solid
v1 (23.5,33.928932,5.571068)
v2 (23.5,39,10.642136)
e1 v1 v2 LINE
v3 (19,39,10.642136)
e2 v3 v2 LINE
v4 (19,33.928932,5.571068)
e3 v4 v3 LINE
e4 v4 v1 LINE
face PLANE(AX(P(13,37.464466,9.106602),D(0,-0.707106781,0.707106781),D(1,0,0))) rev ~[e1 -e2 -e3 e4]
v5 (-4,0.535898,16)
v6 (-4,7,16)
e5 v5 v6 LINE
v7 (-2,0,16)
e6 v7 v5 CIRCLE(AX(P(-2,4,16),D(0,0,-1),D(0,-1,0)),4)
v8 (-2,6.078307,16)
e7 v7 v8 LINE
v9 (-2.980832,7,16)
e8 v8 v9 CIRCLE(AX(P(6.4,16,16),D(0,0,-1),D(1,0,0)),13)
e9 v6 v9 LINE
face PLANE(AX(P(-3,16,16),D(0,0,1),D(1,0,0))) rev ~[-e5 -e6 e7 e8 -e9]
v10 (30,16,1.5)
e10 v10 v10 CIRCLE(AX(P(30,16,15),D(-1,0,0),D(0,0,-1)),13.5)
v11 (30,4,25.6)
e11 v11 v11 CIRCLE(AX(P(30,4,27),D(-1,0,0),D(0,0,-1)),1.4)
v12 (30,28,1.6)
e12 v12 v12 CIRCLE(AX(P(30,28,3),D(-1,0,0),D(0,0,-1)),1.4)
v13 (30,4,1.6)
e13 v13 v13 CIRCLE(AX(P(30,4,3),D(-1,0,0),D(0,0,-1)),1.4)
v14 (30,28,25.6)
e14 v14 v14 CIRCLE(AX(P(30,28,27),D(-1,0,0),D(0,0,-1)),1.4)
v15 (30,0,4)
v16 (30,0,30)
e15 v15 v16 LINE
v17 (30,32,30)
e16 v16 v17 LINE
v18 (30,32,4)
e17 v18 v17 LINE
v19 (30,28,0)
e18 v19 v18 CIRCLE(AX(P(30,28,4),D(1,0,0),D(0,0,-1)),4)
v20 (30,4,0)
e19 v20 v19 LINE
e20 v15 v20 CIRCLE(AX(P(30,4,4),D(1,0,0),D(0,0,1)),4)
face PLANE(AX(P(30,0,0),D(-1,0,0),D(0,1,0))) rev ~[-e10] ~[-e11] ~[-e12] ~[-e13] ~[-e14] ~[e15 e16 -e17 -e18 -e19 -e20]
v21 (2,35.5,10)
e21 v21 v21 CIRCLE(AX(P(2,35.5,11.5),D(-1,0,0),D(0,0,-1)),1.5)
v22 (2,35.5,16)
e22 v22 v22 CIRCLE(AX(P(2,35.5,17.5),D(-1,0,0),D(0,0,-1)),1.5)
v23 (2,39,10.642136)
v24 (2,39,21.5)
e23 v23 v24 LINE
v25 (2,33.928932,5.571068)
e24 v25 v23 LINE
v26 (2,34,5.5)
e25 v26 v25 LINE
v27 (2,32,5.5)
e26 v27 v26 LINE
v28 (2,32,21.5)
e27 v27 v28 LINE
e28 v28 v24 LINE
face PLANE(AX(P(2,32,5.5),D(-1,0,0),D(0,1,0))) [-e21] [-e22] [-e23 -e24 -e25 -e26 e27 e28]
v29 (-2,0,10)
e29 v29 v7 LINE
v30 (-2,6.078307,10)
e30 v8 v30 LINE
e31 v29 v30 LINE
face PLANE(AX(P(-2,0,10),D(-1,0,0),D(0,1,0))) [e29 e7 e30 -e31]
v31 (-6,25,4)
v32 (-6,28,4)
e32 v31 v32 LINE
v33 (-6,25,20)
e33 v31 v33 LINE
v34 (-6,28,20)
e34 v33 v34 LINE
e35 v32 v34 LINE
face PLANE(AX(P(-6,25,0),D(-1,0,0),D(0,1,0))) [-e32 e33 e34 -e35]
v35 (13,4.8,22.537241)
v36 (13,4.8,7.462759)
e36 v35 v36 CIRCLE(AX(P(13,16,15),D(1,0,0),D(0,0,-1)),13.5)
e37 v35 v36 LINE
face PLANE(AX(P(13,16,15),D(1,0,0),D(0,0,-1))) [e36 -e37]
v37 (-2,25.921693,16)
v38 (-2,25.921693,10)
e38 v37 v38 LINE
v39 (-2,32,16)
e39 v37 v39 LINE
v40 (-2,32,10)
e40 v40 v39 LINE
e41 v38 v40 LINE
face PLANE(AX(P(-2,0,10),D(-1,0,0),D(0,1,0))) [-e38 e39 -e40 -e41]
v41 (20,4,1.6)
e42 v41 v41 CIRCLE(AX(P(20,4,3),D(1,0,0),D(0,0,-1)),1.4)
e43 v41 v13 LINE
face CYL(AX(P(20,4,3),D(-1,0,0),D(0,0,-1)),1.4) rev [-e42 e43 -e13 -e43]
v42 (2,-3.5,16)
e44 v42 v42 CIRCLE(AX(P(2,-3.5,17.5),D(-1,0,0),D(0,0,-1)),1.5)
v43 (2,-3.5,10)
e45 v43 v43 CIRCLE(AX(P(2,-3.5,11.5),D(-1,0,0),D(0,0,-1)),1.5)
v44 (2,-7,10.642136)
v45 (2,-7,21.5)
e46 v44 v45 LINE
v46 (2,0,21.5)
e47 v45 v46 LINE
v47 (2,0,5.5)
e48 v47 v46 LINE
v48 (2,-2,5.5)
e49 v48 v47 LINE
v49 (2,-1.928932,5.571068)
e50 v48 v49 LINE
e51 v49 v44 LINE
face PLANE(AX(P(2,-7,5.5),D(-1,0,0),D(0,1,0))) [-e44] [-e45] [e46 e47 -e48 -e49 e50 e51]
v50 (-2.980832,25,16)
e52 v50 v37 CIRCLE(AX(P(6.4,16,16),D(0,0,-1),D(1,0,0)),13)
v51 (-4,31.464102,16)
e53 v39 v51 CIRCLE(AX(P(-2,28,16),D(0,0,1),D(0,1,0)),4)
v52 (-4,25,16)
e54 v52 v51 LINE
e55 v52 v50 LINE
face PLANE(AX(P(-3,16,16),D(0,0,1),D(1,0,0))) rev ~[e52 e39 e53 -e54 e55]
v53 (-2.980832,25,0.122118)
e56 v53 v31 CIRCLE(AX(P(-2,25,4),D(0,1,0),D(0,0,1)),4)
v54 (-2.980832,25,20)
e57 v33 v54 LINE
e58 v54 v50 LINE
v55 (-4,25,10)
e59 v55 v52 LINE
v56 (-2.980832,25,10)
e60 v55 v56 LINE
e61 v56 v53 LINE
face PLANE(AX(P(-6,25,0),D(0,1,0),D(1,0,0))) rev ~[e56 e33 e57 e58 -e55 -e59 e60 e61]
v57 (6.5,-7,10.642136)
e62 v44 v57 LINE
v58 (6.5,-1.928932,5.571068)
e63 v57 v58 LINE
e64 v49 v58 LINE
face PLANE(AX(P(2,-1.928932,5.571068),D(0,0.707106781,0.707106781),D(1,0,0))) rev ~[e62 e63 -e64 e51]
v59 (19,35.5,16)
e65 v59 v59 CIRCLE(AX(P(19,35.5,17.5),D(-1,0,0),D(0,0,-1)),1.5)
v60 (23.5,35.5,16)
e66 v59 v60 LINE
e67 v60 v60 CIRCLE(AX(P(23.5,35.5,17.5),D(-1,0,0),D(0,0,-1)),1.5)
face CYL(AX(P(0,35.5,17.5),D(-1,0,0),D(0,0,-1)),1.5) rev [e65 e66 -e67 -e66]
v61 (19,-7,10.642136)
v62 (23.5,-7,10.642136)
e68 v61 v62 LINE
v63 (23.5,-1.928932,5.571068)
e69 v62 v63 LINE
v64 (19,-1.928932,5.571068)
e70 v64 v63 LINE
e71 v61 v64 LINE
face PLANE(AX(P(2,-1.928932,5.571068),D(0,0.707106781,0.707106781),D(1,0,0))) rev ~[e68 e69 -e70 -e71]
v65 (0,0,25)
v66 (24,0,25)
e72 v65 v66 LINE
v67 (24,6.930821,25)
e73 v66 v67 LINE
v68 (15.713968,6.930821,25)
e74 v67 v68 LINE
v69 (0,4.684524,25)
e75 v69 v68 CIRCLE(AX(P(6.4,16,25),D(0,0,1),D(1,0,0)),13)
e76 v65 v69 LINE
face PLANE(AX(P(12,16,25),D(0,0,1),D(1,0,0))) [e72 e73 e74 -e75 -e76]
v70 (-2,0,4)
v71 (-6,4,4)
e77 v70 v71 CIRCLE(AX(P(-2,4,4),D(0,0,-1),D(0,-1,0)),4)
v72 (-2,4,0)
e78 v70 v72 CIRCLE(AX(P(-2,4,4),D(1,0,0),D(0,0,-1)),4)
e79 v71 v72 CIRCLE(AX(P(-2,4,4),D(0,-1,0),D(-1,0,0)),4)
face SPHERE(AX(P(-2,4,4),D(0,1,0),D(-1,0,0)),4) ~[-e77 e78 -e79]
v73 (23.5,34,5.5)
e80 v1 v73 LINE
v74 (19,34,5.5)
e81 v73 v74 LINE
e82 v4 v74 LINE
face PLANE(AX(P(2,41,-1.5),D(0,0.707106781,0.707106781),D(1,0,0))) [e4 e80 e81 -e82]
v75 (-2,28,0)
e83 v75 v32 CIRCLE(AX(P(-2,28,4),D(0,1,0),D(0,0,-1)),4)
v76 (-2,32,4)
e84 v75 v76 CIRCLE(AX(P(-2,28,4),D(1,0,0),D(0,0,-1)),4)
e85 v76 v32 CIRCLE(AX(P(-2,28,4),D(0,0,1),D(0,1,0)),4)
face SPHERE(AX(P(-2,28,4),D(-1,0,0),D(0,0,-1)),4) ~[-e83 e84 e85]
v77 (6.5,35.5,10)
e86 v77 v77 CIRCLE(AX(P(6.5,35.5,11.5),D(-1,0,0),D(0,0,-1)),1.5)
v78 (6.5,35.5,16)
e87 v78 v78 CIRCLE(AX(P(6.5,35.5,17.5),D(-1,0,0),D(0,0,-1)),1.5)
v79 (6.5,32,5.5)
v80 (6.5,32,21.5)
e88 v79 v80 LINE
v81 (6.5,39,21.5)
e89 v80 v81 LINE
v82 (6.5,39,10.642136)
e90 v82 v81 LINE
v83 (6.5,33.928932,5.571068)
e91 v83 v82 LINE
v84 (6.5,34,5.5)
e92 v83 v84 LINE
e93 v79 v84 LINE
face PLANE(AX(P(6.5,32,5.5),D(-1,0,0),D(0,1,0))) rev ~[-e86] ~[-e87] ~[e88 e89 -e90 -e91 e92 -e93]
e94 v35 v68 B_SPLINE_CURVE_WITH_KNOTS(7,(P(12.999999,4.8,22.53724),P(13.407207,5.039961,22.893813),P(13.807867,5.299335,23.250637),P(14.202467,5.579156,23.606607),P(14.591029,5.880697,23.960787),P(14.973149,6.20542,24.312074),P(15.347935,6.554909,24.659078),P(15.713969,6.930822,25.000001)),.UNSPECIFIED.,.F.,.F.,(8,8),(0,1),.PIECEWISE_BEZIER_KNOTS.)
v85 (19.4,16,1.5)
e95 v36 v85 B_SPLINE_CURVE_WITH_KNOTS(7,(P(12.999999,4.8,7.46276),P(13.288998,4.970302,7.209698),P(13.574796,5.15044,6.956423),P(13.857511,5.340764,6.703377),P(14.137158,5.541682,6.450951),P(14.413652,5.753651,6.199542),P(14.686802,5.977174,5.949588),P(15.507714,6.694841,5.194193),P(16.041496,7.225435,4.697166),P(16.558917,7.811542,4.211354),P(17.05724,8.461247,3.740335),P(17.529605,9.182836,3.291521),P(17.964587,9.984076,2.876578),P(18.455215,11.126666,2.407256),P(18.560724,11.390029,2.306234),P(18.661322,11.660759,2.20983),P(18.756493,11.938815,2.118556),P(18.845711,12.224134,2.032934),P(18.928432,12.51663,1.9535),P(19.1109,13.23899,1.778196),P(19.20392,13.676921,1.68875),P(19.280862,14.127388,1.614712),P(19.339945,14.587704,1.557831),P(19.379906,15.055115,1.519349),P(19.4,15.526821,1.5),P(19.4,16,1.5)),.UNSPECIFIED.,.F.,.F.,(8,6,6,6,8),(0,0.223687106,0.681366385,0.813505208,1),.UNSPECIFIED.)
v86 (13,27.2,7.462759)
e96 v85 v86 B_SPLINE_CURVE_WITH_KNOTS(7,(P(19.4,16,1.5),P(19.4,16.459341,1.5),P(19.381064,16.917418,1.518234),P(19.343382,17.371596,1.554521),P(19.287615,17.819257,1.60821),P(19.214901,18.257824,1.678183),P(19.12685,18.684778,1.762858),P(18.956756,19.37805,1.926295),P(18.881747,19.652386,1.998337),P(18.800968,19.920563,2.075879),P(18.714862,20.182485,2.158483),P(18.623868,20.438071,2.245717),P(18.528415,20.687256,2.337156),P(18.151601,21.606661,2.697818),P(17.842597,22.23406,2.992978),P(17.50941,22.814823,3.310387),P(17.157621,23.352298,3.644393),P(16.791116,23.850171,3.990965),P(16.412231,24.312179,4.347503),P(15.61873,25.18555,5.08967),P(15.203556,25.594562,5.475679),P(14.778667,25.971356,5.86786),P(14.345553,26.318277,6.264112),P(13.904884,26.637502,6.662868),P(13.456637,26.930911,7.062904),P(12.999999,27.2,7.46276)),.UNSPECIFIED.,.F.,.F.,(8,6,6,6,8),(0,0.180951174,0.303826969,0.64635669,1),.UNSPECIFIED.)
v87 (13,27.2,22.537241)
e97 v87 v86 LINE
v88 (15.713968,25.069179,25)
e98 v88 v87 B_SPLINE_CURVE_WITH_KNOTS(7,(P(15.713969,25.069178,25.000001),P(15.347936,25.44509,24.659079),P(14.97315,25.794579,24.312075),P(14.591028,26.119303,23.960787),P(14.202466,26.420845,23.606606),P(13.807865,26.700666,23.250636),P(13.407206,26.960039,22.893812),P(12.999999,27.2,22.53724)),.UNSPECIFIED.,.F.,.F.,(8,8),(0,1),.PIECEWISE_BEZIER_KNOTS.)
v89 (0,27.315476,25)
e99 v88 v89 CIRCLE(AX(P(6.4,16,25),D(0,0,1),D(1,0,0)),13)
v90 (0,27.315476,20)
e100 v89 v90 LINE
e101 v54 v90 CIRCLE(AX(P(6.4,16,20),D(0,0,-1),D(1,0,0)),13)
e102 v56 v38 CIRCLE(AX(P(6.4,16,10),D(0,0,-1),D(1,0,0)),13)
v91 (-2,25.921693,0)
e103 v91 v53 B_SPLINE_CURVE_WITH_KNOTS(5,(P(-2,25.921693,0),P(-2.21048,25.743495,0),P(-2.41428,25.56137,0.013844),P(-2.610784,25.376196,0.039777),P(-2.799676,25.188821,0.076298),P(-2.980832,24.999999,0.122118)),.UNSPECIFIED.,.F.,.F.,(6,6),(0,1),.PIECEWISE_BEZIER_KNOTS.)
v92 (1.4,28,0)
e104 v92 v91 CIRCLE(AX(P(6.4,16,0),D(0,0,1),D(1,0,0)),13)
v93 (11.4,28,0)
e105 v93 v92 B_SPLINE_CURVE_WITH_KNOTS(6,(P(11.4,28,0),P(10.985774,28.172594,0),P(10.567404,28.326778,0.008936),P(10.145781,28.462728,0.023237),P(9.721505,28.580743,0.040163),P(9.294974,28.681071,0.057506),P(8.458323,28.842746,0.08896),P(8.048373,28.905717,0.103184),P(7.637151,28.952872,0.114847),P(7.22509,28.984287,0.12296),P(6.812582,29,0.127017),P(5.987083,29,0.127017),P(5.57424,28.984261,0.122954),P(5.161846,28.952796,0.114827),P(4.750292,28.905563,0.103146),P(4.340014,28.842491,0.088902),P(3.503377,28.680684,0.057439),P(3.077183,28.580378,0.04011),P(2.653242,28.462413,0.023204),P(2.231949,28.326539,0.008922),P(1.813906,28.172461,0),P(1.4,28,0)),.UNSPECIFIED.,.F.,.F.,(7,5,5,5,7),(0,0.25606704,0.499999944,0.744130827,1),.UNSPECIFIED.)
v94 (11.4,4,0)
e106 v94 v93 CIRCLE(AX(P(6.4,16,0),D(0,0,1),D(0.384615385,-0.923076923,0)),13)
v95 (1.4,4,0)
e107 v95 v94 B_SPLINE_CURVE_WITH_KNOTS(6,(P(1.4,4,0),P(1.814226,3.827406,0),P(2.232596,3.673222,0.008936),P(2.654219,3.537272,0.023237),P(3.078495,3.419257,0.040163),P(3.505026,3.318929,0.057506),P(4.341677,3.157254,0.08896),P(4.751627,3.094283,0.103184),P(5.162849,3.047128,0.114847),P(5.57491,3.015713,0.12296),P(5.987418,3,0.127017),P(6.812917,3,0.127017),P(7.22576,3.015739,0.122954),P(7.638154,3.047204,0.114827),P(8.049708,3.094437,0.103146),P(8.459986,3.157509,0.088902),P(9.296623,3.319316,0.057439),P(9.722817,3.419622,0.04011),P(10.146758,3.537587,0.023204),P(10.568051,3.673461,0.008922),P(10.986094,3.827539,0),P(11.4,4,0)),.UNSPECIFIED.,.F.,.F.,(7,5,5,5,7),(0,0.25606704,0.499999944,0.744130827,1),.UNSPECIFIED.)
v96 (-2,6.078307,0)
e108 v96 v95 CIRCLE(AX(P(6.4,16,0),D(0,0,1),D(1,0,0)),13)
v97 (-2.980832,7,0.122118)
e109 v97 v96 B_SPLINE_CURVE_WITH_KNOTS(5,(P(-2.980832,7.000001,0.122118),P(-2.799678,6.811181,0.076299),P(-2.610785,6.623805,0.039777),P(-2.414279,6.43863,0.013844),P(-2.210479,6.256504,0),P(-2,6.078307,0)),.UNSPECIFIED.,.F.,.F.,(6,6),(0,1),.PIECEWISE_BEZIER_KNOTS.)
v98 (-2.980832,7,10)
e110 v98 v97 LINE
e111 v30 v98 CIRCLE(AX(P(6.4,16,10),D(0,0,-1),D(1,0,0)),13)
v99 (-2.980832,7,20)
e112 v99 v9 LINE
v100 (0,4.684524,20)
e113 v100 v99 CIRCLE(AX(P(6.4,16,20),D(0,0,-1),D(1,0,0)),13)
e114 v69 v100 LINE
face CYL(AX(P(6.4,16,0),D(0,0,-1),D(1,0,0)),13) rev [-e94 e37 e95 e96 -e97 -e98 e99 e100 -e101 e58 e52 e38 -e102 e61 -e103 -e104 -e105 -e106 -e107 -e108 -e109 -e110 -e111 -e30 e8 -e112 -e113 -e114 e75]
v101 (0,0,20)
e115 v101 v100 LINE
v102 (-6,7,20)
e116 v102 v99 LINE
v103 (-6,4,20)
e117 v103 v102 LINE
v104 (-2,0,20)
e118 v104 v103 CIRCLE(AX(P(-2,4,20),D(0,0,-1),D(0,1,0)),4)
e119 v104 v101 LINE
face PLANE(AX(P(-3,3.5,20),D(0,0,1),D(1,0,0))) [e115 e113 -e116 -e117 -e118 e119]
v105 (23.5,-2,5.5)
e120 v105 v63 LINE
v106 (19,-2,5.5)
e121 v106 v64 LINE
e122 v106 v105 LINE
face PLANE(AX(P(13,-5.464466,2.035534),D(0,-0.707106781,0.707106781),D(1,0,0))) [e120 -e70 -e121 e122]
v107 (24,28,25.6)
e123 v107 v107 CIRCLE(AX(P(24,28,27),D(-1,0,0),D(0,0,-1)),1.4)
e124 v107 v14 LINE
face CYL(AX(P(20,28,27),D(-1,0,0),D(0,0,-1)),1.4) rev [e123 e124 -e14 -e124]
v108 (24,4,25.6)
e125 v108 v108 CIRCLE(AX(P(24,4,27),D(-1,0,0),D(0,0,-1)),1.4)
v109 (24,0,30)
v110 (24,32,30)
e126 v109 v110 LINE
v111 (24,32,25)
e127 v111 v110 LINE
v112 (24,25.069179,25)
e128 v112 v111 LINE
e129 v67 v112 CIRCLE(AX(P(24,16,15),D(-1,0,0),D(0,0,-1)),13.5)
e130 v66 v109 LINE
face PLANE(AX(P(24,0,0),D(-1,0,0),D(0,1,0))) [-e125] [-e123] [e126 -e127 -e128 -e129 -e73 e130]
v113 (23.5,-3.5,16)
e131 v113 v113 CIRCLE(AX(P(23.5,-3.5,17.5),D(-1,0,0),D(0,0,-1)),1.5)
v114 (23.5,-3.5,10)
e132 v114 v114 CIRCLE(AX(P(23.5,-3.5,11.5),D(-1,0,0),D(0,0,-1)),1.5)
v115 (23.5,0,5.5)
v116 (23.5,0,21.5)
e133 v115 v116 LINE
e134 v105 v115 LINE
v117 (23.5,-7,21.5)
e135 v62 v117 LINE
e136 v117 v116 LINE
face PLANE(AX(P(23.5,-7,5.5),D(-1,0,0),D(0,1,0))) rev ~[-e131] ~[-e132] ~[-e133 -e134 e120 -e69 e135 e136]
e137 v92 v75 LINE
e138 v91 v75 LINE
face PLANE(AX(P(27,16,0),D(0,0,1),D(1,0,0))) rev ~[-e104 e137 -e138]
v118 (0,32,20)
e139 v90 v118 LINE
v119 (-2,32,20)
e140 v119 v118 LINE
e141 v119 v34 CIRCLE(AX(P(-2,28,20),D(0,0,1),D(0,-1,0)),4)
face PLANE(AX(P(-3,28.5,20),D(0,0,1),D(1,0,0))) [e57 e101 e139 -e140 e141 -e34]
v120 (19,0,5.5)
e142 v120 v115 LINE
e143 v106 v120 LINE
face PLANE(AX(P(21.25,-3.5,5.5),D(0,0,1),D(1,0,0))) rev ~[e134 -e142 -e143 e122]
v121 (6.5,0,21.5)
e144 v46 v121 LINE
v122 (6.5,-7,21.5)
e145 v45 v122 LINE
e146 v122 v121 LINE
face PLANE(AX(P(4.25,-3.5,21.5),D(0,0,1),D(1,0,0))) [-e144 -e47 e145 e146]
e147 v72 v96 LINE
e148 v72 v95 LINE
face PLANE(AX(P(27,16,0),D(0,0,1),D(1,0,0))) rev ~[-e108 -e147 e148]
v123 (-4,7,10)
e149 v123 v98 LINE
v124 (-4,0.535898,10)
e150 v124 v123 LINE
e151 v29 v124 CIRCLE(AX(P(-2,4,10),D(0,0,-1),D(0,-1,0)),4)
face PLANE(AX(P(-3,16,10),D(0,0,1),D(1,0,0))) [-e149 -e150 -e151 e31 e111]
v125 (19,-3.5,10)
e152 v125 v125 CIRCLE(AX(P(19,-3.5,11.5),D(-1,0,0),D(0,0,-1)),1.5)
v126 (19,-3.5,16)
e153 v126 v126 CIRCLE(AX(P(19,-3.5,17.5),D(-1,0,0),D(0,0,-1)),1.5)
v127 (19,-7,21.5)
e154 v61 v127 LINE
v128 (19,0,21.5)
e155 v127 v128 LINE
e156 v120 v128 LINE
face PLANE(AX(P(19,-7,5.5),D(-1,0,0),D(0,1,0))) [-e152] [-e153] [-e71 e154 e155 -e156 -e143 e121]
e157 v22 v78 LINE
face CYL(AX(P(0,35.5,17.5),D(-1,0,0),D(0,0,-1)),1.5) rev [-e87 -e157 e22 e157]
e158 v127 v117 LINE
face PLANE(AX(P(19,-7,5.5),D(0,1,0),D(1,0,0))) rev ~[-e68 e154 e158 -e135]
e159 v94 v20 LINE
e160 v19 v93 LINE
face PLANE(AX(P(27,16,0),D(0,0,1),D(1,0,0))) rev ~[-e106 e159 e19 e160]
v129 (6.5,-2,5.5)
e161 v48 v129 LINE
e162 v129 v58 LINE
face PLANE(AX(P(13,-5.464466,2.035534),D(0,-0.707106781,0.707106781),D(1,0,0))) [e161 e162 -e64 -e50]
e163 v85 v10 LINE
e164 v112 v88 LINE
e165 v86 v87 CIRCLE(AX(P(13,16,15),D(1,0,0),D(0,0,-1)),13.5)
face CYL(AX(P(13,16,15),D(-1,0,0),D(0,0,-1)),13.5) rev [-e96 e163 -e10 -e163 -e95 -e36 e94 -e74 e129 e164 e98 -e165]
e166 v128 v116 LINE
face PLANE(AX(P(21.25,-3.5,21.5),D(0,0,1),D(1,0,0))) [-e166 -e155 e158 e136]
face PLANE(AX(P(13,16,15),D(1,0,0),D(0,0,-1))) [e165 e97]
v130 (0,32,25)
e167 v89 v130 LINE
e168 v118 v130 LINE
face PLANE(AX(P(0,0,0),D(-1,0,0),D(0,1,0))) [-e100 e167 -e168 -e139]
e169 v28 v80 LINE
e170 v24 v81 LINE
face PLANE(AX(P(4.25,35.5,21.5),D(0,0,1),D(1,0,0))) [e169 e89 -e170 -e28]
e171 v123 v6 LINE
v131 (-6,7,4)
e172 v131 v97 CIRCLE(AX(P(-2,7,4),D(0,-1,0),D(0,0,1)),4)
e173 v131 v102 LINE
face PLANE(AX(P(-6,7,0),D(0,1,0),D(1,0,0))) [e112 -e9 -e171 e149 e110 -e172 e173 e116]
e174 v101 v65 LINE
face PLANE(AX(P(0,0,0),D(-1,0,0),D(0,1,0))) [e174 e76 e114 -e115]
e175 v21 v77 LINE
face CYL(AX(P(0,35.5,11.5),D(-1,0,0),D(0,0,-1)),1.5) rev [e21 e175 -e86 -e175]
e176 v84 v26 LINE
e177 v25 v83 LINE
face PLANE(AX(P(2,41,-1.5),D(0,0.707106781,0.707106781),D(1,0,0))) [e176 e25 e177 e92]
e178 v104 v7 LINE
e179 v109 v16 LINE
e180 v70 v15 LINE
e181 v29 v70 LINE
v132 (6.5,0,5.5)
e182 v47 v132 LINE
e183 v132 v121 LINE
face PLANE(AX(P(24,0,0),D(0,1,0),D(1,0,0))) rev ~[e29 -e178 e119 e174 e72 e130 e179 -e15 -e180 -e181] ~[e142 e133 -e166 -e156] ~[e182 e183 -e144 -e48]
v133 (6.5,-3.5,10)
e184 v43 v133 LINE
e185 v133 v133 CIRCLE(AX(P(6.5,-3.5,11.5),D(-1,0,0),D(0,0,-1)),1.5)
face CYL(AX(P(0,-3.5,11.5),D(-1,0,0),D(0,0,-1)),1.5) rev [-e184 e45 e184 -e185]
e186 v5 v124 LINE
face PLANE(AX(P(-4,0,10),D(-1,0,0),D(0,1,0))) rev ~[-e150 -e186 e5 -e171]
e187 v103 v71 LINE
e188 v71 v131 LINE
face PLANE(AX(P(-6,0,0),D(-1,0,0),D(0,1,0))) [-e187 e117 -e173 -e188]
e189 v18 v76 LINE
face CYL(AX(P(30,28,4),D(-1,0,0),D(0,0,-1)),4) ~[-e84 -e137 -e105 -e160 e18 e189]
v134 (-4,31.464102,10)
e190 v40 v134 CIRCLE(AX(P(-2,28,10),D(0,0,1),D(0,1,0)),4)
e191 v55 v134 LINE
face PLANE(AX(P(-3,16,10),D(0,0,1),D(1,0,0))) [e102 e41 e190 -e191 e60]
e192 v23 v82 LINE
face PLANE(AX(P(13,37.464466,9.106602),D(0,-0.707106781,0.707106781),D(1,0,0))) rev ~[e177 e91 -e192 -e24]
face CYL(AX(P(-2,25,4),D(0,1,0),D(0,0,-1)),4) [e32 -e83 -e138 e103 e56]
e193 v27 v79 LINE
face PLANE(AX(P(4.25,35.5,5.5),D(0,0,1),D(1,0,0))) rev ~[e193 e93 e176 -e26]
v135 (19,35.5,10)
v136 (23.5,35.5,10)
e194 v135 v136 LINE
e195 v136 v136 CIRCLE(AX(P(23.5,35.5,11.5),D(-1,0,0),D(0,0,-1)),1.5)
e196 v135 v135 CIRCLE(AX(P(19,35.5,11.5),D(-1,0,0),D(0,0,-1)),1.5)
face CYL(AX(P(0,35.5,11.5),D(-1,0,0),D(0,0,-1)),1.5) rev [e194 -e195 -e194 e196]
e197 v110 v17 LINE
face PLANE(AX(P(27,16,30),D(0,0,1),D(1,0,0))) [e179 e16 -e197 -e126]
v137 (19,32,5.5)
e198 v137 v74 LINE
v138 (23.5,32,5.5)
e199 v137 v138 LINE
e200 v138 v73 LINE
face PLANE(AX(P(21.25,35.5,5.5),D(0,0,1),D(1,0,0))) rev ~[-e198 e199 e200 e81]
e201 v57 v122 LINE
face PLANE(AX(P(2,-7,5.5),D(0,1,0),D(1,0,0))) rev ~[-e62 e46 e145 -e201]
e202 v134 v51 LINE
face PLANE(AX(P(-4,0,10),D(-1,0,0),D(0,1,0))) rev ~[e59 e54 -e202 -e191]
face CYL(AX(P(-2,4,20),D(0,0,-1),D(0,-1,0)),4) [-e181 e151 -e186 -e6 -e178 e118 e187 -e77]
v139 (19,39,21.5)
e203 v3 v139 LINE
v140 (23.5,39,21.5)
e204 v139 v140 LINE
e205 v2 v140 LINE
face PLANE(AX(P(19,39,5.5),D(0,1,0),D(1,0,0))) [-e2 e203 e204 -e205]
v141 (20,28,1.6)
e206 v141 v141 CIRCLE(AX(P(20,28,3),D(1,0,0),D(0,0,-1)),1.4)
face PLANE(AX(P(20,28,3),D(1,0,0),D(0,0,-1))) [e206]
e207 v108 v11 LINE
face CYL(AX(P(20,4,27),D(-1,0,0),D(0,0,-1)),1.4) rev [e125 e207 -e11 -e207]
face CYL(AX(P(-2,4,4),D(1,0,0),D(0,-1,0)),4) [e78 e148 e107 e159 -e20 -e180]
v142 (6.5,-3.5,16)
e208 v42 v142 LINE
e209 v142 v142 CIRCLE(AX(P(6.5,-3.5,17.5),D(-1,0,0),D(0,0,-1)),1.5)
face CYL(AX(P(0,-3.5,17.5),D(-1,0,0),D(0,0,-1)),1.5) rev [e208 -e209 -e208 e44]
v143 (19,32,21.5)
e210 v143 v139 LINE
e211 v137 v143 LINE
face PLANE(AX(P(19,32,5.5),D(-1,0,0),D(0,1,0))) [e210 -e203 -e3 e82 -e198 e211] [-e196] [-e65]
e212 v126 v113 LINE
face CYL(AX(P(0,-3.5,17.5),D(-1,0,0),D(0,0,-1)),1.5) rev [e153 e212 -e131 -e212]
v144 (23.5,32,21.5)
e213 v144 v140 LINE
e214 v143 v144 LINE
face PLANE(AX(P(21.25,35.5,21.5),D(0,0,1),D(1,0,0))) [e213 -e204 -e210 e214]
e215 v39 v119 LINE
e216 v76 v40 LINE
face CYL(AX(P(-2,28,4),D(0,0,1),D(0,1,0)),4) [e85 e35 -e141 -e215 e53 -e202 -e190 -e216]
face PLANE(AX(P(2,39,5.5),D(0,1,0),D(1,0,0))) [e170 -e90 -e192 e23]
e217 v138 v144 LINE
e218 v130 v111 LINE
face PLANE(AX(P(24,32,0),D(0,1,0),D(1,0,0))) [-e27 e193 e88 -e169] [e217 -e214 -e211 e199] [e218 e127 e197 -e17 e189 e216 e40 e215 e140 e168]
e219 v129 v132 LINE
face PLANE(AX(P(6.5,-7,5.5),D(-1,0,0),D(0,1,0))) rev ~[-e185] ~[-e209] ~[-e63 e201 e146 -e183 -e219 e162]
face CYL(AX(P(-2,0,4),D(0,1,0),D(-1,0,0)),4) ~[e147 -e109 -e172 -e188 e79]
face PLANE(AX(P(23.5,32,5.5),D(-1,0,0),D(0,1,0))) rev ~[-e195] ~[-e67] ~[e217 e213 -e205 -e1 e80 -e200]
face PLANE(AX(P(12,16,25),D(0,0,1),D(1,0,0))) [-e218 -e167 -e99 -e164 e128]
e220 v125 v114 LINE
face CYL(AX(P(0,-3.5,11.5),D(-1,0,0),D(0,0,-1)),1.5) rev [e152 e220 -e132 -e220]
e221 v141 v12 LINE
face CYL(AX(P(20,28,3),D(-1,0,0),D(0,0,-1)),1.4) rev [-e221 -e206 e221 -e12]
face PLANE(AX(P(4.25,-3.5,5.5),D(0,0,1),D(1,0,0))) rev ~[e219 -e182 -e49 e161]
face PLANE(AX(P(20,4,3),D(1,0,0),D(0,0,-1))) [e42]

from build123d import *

# Parameters (mm, degrees)
BOX010_W                = 22
BOX010_H                = 10
BOX010_DEPTH            = 10
BOX010_ROLL_ANGLE       = 45
BOX009_W                = 22
BOX009_H                = 10
BOX009_DEPTH            = 10
BOX009_ROLL_ANGLE       = 45
CYLINDER010_R           = 1.5
CYLINDER010_DEPTH       = 40
CYLINDER010_PITCH_ANGLE = 90
CYLINDER011_R           = 1.5
CYLINDER011_DEPTH       = 40
CYLINDER011_PITCH_ANGLE = 90
CYLINDER012_R           = 1.5
CYLINDER012_DEPTH       = 40
CYLINDER012_PITCH_ANGLE = 90
CYLINDER009_R           = 1.5
CYLINDER009_DEPTH       = 40
CYLINDER009_PITCH_ANGLE = 90
BOX004_W                = 2
BOX004_H                = 32
BOX004_DEPTH            = 6
CYLINDER_R              = 13
CYLINDER_DEPTH          = 25
CYLINDER001_R           = 13.5
CYLINDER001_DEPTH       = 18
CYLINDER001_PITCH_ANGLE = 90
CYLINDER003_R           = 1.4
CYLINDER003_DEPTH       = 20
CYLINDER003_PITCH_ANGLE = 90
CYLINDER005_R           = 1.4
CYLINDER005_DEPTH       = 20
CYLINDER005_PITCH_ANGLE = 90
CYLINDER004_R           = 1.4
CYLINDER004_DEPTH       = 20
CYLINDER004_PITCH_ANGLE = 90
CYLINDER002_R           = 1.4
CYLINDER002_DEPTH       = 20
CYLINDER002_PITCH_ANGLE = 90
BOX002_W                = 6
BOX002_H                = 7
BOX002_DEPTH            = 20
BOX006_W                = 4.5
BOX006_H                = 7
BOX006_DEPTH            = 16
BOX007_W                = 4.5
BOX007_H                = 7
BOX007_DEPTH            = 16
BOX008_W                = 4.5
BOX008_H                = 7
BOX008_DEPTH            = 16
BOX005_W                = 4.5
BOX005_H                = 7
BOX005_DEPTH            = 16
BOX003_W                = 6
BOX003_H                = 7
BOX003_DEPTH            = 20
BOX001_W                = 6
BOX001_H                = 32
BOX001_DEPTH            = 30
BOX_W                   = 24
BOX_H                   = 32
BOX_DEPTH               = 25
FILLET_R                = 4
FILLET001_R             = 4
FILLET002_R             = 4
FILLET003_R             = 4


with BuildPart() as cube010:
    # Box010 → Box010 (new body)
    with BuildSketch(Plane.XY):
        with Locations((11, 5)):
            Rectangle(BOX010_W, BOX010_H)
    extrude(amount=BOX010_DEPTH)


with BuildPart() as cube010_1:
    # Box010 roll: moved
    add(cube010.part.rotate(Axis((0, 0, 0), (1, 0, 0)), BOX010_ROLL_ANGLE))


with BuildPart() as cube010_2:
    # Box010 placement: moved
    add(cube010_1.part.moved(Location((2, 41, -7))))


with BuildPart() as fusionwingcuts:
    # Box009 → Box009 (new body)
    with BuildSketch(Plane.XY):
        with Locations((11, 5)):
            Rectangle(BOX009_W, BOX009_H)
    extrude(amount=BOX009_DEPTH)


with BuildPart() as fusionwingcuts_1:
    # Box009 roll: moved
    add(fusionwingcuts.part.rotate(Axis((0, 0, 0), (1, 0, 0)), BOX009_ROLL_ANGLE))


with BuildPart() as fusionwingcuts_2:
    # Box009 placement: moved
    add(fusionwingcuts_1.part.moved(Location((2, -9, -7))))

    # Fusion005: union Cube010
    add(cube010_2.part)


with BuildPart() as fusionwingcuts_3:
    # Fusion005 placement: moved
    add(fusionwingcuts_2.part.moved(Location((0, 0, 5.5))))


with BuildPart() as cylinder010:
    # Cylinder010 → Cylinder010 (new body)
    with BuildSketch(Plane.XY):
        Circle(CYLINDER010_R)
    extrude(amount=CYLINDER010_DEPTH)


with BuildPart() as cylinder010_1:
    # Cylinder010 pitch: moved
    add(cylinder010.part.rotate(Axis((0, 0, 0), (0, 1, 0)), CYLINDER010_PITCH_ANGLE))


with BuildPart() as cylinder010_2:
    # Cylinder010 placement: moved
    add(cylinder010_1.part.moved(Location((0, -3.5, 6))))


with BuildPart() as cylinder011:
    # Cylinder011 → Cylinder011 (new body)
    with BuildSketch(Plane.XY):
        Circle(CYLINDER011_R)
    extrude(amount=CYLINDER011_DEPTH)


with BuildPart() as cylinder011_1:
    # Cylinder011 pitch: moved
    add(cylinder011.part.rotate(Axis((0, 0, 0), (0, 1, 0)), CYLINDER011_PITCH_ANGLE))


with BuildPart() as cylinder011_2:
    # Cylinder011 placement: moved
    add(cylinder011_1.part.moved(Location((0, 35.5, 12))))


with BuildPart() as cylinder012:
    # Cylinder012 → Cylinder012 (new body)
    with BuildSketch(Plane.XY):
        Circle(CYLINDER012_R)
    extrude(amount=CYLINDER012_DEPTH)


with BuildPart() as cylinder012_1:
    # Cylinder012 pitch: moved
    add(cylinder012.part.rotate(Axis((0, 0, 0), (0, 1, 0)), CYLINDER012_PITCH_ANGLE))


with BuildPart() as cylinder012_2:
    # Cylinder012 placement: moved
    add(cylinder012_1.part.moved(Location((0, 35.5, 6))))


with BuildPart() as fusionwingscrews:
    # Cylinder009 → Cylinder009 (new body)
    with BuildSketch(Plane.XY):
        Circle(CYLINDER009_R)
    extrude(amount=CYLINDER009_DEPTH)


with BuildPart() as fusionwingscrews_1:
    # Cylinder009 pitch: moved
    add(fusionwingscrews.part.rotate(Axis((0, 0, 0), (0, 1, 0)), CYLINDER009_PITCH_ANGLE))


with BuildPart() as fusionwingscrews_2:
    # Cylinder009 placement: moved
    add(fusionwingscrews_1.part.moved(Location((0, -3.5, 12))))

    # Fusion004: union Cylinder010, Cylinder011, Cylinder012
    add(cylinder010_2.part)
    add(cylinder011_2.part)
    add(cylinder012_2.part)


with BuildPart() as fusionwingscrews_3:
    # Fusion004 placement: moved
    add(fusionwingscrews_2.part.moved(Location((0, 0, 5.5))))


with BuildPart() as cubeziptiehor:
    # Box004 → Box004 (new body)
    with BuildSketch(Plane(origin=(-4, 0, 10), x_dir=(1, 0, 0), z_dir=(0, 0, 1))):
        with Locations((1, 16)):
            Rectangle(BOX004_W, BOX004_H)
    extrude(amount=BOX004_DEPTH)


with BuildPart() as cylinderheatsink:
    # Cylinder → Cylinder (new body)
    with BuildSketch(Plane(origin=(6.4, 16, 0), x_dir=(1, 0, 0), z_dir=(0, 0, 1))):
        Circle(CYLINDER_R)
    extrude(amount=CYLINDER_DEPTH)


with BuildPart() as cylinderfan:
    # Cylinder001 → Cylinder001 (new body)
    with BuildSketch(Plane.XY):
        Circle(CYLINDER001_R)
    extrude(amount=CYLINDER001_DEPTH)


with BuildPart() as cylinderfan_1:
    # Cylinder001 pitch: moved
    add(cylinderfan.part.rotate(Axis((0, 0, 0), (0, 1, 0)), CYLINDER001_PITCH_ANGLE))


with BuildPart() as cylinderfan_2:
    # Cylinder001 placement: moved
    add(cylinderfan_1.part.moved(Location((13, 16, 15))))


with BuildPart() as cylindertl:
    # Cylinder003 → Cylinder003 (new body)
    with BuildSketch(Plane.XY):
        Circle(CYLINDER003_R)
    extrude(amount=CYLINDER003_DEPTH)


with BuildPart() as cylindertl_1:
    # Cylinder003 pitch: moved
    add(cylindertl.part.rotate(Axis((0, 0, 0), (0, 1, 0)), CYLINDER003_PITCH_ANGLE))


with BuildPart() as cylindertl_2:
    # Cylinder003 placement: moved
    add(cylindertl_1.part.moved(Location((20, 4, 27))))


with BuildPart() as cylinderrb:
    # Cylinder005 → Cylinder005 (new body)
    with BuildSketch(Plane.XY):
        Circle(CYLINDER005_R)
    extrude(amount=CYLINDER005_DEPTH)


with BuildPart() as cylinderrb_1:
    # Cylinder005 pitch: moved
    add(cylinderrb.part.rotate(Axis((0, 0, 0), (0, 1, 0)), CYLINDER005_PITCH_ANGLE))


with BuildPart() as cylinderrb_2:
    # Cylinder005 placement: moved
    add(cylinderrb_1.part.moved(Location((20, 28, 3))))


with BuildPart() as cylindertb:
    # Cylinder004 → Cylinder004 (new body)
    with BuildSketch(Plane.XY):
        Circle(CYLINDER004_R)
    extrude(amount=CYLINDER004_DEPTH)


with BuildPart() as cylindertb_1:
    # Cylinder004 pitch: moved
    add(cylindertb.part.rotate(Axis((0, 0, 0), (0, 1, 0)), CYLINDER004_PITCH_ANGLE))


with BuildPart() as cylindertb_2:
    # Cylinder004 placement: moved
    add(cylindertb_1.part.moved(Location((20, 28, 27))))


with BuildPart() as fusioncuts:
    # Cylinder002 → Cylinder002 (new body)
    with BuildSketch(Plane.XY):
        Circle(CYLINDER002_R)
    extrude(amount=CYLINDER002_DEPTH)


with BuildPart() as fusioncuts_1:
    # Cylinder002 pitch: moved
    add(fusioncuts.part.rotate(Axis((0, 0, 0), (0, 1, 0)), CYLINDER002_PITCH_ANGLE))


with BuildPart() as fusioncuts_2:
    # Cylinder002 placement: moved
    add(fusioncuts_1.part.moved(Location((20, 4, 3))))

    # Fusion001: union CylinderTL, CylinderRB, CylinderTB
    add(cylindertl_2.part)
    add(cylinderrb_2.part)
    add(cylindertb_2.part)

    # Fusion: union FusionWingCuts, FusionWingScrews, CubeZipTieHor, CylinderHeatSink, CylinderFan
    add(fusionwingcuts_3.part)
    add(fusionwingscrews_3.part)
    add(cubeziptiehor.part)
    add(cylinderheatsink.part)
    add(cylinderfan_2.part)


with BuildPart() as cubeziptiel:
    # Box002 → Box002 (new body)
    with BuildSketch(Plane(origin=(-6, 0, 0), x_dir=(1, 0, 0), z_dir=(0, 0, 1))):
        with Locations((3, 3.5)):
            Rectangle(BOX002_W, BOX002_H)
    extrude(amount=BOX002_DEPTH)


with BuildPart() as cube006:
    # Box006 → Box006 (new body)
    with BuildSketch(Plane(origin=(19, -7, 0), x_dir=(1, 0, 0), z_dir=(0, 0, 1))):
        with Locations((2.25, 3.5)):
            Rectangle(BOX006_W, BOX006_H)
    extrude(amount=BOX006_DEPTH)


with BuildPart() as cube007:
    # Box007 → Box007 (new body)
    with BuildSketch(Plane(origin=(2, 32, 0), x_dir=(1, 0, 0), z_dir=(0, 0, 1))):
        with Locations((2.25, 3.5)):
            Rectangle(BOX007_W, BOX007_H)
    extrude(amount=BOX007_DEPTH)


with BuildPart() as cube008:
    # Box008 → Box008 (new body)
    with BuildSketch(Plane(origin=(19, 32, 0), x_dir=(1, 0, 0), z_dir=(0, 0, 1))):
        with Locations((2.25, 3.5)):
            Rectangle(BOX008_W, BOX008_H)
    extrude(amount=BOX008_DEPTH)


with BuildPart() as fusionwings:
    # Box005 → Box005 (new body)
    with BuildSketch(Plane(origin=(2, -7, 0), x_dir=(1, 0, 0), z_dir=(0, 0, 1))):
        with Locations((2.25, 3.5)):
            Rectangle(BOX005_W, BOX005_H)
    extrude(amount=BOX005_DEPTH)

    # Fusion006: union Cube006, Cube007, Cube008
    add(cube006.part)
    add(cube007.part)
    add(cube008.part)


with BuildPart() as fusionwings_1:
    # Fusion006 placement: moved
    add(fusionwings.part.moved(Location((0, 0, 5.5))))


with BuildPart() as cubziptier:
    # Box003 → Box003 (new body)
    with BuildSketch(Plane(origin=(-6, 25, 0), x_dir=(1, 0, 0), z_dir=(0, 0, 1))):
        with Locations((3, 3.5)):
            Rectangle(BOX003_W, BOX003_H)
    extrude(amount=BOX003_DEPTH)


with BuildPart() as cubefrontmask:
    # Box001 → Box001 (new body)
    with BuildSketch(Plane(origin=(24, 0, 0), x_dir=(1, 0, 0), z_dir=(0, 0, 1))):
        with Locations((3, 16)):
            Rectangle(BOX001_W, BOX001_H)
    extrude(amount=BOX001_DEPTH)


with BuildPart() as cute3dv5holder:
    # Box → Box (new body)
    with BuildSketch(Plane.XY):
        with Locations((12, 16)):
            Rectangle(BOX_W, BOX_H)
    extrude(amount=BOX_DEPTH)

    # Fusion007: union CubeZipTieL, FusionWings, CubZipTieR, CubeFrontMask
    add(cubeziptiel.part)
    add(fusionwings_1.part)
    add(cubziptier.part)
    add(cubefrontmask.part)

    # Fillet
    fillet_edges = [cute3dv5holder.edges().sort_by_distance(p)[0] for p in [
        (-6, 3.5, 0),
    ]]
    fillet(fillet_edges, radius=FILLET_R)

    # Fillet001
    fillet001_edges = [cute3dv5holder.edges().sort_by_distance(p)[0] for p in [
        (12, 0, 0),
    ]]
    fillet(fillet001_edges, radius=FILLET001_R)

    # Fillet002
    fillet002_edges = [cute3dv5holder.edges().sort_by_distance(p)[0] for p in [
        (12, 32, 0),
    ]]
    fillet(fillet002_edges, radius=FILLET002_R)

    # Fillet003
    fillet003_edges = [cute3dv5holder.edges().sort_by_distance(p)[0] for p in [
        (-6, 26.5, 0),
    ]]
    fillet(fillet003_edges, radius=FILLET003_R)

    # Cut: cut FusionCUTS
    add(fusioncuts_2.part, mode=Mode.SUBTRACT)


solid = cute3dv5holder.part
